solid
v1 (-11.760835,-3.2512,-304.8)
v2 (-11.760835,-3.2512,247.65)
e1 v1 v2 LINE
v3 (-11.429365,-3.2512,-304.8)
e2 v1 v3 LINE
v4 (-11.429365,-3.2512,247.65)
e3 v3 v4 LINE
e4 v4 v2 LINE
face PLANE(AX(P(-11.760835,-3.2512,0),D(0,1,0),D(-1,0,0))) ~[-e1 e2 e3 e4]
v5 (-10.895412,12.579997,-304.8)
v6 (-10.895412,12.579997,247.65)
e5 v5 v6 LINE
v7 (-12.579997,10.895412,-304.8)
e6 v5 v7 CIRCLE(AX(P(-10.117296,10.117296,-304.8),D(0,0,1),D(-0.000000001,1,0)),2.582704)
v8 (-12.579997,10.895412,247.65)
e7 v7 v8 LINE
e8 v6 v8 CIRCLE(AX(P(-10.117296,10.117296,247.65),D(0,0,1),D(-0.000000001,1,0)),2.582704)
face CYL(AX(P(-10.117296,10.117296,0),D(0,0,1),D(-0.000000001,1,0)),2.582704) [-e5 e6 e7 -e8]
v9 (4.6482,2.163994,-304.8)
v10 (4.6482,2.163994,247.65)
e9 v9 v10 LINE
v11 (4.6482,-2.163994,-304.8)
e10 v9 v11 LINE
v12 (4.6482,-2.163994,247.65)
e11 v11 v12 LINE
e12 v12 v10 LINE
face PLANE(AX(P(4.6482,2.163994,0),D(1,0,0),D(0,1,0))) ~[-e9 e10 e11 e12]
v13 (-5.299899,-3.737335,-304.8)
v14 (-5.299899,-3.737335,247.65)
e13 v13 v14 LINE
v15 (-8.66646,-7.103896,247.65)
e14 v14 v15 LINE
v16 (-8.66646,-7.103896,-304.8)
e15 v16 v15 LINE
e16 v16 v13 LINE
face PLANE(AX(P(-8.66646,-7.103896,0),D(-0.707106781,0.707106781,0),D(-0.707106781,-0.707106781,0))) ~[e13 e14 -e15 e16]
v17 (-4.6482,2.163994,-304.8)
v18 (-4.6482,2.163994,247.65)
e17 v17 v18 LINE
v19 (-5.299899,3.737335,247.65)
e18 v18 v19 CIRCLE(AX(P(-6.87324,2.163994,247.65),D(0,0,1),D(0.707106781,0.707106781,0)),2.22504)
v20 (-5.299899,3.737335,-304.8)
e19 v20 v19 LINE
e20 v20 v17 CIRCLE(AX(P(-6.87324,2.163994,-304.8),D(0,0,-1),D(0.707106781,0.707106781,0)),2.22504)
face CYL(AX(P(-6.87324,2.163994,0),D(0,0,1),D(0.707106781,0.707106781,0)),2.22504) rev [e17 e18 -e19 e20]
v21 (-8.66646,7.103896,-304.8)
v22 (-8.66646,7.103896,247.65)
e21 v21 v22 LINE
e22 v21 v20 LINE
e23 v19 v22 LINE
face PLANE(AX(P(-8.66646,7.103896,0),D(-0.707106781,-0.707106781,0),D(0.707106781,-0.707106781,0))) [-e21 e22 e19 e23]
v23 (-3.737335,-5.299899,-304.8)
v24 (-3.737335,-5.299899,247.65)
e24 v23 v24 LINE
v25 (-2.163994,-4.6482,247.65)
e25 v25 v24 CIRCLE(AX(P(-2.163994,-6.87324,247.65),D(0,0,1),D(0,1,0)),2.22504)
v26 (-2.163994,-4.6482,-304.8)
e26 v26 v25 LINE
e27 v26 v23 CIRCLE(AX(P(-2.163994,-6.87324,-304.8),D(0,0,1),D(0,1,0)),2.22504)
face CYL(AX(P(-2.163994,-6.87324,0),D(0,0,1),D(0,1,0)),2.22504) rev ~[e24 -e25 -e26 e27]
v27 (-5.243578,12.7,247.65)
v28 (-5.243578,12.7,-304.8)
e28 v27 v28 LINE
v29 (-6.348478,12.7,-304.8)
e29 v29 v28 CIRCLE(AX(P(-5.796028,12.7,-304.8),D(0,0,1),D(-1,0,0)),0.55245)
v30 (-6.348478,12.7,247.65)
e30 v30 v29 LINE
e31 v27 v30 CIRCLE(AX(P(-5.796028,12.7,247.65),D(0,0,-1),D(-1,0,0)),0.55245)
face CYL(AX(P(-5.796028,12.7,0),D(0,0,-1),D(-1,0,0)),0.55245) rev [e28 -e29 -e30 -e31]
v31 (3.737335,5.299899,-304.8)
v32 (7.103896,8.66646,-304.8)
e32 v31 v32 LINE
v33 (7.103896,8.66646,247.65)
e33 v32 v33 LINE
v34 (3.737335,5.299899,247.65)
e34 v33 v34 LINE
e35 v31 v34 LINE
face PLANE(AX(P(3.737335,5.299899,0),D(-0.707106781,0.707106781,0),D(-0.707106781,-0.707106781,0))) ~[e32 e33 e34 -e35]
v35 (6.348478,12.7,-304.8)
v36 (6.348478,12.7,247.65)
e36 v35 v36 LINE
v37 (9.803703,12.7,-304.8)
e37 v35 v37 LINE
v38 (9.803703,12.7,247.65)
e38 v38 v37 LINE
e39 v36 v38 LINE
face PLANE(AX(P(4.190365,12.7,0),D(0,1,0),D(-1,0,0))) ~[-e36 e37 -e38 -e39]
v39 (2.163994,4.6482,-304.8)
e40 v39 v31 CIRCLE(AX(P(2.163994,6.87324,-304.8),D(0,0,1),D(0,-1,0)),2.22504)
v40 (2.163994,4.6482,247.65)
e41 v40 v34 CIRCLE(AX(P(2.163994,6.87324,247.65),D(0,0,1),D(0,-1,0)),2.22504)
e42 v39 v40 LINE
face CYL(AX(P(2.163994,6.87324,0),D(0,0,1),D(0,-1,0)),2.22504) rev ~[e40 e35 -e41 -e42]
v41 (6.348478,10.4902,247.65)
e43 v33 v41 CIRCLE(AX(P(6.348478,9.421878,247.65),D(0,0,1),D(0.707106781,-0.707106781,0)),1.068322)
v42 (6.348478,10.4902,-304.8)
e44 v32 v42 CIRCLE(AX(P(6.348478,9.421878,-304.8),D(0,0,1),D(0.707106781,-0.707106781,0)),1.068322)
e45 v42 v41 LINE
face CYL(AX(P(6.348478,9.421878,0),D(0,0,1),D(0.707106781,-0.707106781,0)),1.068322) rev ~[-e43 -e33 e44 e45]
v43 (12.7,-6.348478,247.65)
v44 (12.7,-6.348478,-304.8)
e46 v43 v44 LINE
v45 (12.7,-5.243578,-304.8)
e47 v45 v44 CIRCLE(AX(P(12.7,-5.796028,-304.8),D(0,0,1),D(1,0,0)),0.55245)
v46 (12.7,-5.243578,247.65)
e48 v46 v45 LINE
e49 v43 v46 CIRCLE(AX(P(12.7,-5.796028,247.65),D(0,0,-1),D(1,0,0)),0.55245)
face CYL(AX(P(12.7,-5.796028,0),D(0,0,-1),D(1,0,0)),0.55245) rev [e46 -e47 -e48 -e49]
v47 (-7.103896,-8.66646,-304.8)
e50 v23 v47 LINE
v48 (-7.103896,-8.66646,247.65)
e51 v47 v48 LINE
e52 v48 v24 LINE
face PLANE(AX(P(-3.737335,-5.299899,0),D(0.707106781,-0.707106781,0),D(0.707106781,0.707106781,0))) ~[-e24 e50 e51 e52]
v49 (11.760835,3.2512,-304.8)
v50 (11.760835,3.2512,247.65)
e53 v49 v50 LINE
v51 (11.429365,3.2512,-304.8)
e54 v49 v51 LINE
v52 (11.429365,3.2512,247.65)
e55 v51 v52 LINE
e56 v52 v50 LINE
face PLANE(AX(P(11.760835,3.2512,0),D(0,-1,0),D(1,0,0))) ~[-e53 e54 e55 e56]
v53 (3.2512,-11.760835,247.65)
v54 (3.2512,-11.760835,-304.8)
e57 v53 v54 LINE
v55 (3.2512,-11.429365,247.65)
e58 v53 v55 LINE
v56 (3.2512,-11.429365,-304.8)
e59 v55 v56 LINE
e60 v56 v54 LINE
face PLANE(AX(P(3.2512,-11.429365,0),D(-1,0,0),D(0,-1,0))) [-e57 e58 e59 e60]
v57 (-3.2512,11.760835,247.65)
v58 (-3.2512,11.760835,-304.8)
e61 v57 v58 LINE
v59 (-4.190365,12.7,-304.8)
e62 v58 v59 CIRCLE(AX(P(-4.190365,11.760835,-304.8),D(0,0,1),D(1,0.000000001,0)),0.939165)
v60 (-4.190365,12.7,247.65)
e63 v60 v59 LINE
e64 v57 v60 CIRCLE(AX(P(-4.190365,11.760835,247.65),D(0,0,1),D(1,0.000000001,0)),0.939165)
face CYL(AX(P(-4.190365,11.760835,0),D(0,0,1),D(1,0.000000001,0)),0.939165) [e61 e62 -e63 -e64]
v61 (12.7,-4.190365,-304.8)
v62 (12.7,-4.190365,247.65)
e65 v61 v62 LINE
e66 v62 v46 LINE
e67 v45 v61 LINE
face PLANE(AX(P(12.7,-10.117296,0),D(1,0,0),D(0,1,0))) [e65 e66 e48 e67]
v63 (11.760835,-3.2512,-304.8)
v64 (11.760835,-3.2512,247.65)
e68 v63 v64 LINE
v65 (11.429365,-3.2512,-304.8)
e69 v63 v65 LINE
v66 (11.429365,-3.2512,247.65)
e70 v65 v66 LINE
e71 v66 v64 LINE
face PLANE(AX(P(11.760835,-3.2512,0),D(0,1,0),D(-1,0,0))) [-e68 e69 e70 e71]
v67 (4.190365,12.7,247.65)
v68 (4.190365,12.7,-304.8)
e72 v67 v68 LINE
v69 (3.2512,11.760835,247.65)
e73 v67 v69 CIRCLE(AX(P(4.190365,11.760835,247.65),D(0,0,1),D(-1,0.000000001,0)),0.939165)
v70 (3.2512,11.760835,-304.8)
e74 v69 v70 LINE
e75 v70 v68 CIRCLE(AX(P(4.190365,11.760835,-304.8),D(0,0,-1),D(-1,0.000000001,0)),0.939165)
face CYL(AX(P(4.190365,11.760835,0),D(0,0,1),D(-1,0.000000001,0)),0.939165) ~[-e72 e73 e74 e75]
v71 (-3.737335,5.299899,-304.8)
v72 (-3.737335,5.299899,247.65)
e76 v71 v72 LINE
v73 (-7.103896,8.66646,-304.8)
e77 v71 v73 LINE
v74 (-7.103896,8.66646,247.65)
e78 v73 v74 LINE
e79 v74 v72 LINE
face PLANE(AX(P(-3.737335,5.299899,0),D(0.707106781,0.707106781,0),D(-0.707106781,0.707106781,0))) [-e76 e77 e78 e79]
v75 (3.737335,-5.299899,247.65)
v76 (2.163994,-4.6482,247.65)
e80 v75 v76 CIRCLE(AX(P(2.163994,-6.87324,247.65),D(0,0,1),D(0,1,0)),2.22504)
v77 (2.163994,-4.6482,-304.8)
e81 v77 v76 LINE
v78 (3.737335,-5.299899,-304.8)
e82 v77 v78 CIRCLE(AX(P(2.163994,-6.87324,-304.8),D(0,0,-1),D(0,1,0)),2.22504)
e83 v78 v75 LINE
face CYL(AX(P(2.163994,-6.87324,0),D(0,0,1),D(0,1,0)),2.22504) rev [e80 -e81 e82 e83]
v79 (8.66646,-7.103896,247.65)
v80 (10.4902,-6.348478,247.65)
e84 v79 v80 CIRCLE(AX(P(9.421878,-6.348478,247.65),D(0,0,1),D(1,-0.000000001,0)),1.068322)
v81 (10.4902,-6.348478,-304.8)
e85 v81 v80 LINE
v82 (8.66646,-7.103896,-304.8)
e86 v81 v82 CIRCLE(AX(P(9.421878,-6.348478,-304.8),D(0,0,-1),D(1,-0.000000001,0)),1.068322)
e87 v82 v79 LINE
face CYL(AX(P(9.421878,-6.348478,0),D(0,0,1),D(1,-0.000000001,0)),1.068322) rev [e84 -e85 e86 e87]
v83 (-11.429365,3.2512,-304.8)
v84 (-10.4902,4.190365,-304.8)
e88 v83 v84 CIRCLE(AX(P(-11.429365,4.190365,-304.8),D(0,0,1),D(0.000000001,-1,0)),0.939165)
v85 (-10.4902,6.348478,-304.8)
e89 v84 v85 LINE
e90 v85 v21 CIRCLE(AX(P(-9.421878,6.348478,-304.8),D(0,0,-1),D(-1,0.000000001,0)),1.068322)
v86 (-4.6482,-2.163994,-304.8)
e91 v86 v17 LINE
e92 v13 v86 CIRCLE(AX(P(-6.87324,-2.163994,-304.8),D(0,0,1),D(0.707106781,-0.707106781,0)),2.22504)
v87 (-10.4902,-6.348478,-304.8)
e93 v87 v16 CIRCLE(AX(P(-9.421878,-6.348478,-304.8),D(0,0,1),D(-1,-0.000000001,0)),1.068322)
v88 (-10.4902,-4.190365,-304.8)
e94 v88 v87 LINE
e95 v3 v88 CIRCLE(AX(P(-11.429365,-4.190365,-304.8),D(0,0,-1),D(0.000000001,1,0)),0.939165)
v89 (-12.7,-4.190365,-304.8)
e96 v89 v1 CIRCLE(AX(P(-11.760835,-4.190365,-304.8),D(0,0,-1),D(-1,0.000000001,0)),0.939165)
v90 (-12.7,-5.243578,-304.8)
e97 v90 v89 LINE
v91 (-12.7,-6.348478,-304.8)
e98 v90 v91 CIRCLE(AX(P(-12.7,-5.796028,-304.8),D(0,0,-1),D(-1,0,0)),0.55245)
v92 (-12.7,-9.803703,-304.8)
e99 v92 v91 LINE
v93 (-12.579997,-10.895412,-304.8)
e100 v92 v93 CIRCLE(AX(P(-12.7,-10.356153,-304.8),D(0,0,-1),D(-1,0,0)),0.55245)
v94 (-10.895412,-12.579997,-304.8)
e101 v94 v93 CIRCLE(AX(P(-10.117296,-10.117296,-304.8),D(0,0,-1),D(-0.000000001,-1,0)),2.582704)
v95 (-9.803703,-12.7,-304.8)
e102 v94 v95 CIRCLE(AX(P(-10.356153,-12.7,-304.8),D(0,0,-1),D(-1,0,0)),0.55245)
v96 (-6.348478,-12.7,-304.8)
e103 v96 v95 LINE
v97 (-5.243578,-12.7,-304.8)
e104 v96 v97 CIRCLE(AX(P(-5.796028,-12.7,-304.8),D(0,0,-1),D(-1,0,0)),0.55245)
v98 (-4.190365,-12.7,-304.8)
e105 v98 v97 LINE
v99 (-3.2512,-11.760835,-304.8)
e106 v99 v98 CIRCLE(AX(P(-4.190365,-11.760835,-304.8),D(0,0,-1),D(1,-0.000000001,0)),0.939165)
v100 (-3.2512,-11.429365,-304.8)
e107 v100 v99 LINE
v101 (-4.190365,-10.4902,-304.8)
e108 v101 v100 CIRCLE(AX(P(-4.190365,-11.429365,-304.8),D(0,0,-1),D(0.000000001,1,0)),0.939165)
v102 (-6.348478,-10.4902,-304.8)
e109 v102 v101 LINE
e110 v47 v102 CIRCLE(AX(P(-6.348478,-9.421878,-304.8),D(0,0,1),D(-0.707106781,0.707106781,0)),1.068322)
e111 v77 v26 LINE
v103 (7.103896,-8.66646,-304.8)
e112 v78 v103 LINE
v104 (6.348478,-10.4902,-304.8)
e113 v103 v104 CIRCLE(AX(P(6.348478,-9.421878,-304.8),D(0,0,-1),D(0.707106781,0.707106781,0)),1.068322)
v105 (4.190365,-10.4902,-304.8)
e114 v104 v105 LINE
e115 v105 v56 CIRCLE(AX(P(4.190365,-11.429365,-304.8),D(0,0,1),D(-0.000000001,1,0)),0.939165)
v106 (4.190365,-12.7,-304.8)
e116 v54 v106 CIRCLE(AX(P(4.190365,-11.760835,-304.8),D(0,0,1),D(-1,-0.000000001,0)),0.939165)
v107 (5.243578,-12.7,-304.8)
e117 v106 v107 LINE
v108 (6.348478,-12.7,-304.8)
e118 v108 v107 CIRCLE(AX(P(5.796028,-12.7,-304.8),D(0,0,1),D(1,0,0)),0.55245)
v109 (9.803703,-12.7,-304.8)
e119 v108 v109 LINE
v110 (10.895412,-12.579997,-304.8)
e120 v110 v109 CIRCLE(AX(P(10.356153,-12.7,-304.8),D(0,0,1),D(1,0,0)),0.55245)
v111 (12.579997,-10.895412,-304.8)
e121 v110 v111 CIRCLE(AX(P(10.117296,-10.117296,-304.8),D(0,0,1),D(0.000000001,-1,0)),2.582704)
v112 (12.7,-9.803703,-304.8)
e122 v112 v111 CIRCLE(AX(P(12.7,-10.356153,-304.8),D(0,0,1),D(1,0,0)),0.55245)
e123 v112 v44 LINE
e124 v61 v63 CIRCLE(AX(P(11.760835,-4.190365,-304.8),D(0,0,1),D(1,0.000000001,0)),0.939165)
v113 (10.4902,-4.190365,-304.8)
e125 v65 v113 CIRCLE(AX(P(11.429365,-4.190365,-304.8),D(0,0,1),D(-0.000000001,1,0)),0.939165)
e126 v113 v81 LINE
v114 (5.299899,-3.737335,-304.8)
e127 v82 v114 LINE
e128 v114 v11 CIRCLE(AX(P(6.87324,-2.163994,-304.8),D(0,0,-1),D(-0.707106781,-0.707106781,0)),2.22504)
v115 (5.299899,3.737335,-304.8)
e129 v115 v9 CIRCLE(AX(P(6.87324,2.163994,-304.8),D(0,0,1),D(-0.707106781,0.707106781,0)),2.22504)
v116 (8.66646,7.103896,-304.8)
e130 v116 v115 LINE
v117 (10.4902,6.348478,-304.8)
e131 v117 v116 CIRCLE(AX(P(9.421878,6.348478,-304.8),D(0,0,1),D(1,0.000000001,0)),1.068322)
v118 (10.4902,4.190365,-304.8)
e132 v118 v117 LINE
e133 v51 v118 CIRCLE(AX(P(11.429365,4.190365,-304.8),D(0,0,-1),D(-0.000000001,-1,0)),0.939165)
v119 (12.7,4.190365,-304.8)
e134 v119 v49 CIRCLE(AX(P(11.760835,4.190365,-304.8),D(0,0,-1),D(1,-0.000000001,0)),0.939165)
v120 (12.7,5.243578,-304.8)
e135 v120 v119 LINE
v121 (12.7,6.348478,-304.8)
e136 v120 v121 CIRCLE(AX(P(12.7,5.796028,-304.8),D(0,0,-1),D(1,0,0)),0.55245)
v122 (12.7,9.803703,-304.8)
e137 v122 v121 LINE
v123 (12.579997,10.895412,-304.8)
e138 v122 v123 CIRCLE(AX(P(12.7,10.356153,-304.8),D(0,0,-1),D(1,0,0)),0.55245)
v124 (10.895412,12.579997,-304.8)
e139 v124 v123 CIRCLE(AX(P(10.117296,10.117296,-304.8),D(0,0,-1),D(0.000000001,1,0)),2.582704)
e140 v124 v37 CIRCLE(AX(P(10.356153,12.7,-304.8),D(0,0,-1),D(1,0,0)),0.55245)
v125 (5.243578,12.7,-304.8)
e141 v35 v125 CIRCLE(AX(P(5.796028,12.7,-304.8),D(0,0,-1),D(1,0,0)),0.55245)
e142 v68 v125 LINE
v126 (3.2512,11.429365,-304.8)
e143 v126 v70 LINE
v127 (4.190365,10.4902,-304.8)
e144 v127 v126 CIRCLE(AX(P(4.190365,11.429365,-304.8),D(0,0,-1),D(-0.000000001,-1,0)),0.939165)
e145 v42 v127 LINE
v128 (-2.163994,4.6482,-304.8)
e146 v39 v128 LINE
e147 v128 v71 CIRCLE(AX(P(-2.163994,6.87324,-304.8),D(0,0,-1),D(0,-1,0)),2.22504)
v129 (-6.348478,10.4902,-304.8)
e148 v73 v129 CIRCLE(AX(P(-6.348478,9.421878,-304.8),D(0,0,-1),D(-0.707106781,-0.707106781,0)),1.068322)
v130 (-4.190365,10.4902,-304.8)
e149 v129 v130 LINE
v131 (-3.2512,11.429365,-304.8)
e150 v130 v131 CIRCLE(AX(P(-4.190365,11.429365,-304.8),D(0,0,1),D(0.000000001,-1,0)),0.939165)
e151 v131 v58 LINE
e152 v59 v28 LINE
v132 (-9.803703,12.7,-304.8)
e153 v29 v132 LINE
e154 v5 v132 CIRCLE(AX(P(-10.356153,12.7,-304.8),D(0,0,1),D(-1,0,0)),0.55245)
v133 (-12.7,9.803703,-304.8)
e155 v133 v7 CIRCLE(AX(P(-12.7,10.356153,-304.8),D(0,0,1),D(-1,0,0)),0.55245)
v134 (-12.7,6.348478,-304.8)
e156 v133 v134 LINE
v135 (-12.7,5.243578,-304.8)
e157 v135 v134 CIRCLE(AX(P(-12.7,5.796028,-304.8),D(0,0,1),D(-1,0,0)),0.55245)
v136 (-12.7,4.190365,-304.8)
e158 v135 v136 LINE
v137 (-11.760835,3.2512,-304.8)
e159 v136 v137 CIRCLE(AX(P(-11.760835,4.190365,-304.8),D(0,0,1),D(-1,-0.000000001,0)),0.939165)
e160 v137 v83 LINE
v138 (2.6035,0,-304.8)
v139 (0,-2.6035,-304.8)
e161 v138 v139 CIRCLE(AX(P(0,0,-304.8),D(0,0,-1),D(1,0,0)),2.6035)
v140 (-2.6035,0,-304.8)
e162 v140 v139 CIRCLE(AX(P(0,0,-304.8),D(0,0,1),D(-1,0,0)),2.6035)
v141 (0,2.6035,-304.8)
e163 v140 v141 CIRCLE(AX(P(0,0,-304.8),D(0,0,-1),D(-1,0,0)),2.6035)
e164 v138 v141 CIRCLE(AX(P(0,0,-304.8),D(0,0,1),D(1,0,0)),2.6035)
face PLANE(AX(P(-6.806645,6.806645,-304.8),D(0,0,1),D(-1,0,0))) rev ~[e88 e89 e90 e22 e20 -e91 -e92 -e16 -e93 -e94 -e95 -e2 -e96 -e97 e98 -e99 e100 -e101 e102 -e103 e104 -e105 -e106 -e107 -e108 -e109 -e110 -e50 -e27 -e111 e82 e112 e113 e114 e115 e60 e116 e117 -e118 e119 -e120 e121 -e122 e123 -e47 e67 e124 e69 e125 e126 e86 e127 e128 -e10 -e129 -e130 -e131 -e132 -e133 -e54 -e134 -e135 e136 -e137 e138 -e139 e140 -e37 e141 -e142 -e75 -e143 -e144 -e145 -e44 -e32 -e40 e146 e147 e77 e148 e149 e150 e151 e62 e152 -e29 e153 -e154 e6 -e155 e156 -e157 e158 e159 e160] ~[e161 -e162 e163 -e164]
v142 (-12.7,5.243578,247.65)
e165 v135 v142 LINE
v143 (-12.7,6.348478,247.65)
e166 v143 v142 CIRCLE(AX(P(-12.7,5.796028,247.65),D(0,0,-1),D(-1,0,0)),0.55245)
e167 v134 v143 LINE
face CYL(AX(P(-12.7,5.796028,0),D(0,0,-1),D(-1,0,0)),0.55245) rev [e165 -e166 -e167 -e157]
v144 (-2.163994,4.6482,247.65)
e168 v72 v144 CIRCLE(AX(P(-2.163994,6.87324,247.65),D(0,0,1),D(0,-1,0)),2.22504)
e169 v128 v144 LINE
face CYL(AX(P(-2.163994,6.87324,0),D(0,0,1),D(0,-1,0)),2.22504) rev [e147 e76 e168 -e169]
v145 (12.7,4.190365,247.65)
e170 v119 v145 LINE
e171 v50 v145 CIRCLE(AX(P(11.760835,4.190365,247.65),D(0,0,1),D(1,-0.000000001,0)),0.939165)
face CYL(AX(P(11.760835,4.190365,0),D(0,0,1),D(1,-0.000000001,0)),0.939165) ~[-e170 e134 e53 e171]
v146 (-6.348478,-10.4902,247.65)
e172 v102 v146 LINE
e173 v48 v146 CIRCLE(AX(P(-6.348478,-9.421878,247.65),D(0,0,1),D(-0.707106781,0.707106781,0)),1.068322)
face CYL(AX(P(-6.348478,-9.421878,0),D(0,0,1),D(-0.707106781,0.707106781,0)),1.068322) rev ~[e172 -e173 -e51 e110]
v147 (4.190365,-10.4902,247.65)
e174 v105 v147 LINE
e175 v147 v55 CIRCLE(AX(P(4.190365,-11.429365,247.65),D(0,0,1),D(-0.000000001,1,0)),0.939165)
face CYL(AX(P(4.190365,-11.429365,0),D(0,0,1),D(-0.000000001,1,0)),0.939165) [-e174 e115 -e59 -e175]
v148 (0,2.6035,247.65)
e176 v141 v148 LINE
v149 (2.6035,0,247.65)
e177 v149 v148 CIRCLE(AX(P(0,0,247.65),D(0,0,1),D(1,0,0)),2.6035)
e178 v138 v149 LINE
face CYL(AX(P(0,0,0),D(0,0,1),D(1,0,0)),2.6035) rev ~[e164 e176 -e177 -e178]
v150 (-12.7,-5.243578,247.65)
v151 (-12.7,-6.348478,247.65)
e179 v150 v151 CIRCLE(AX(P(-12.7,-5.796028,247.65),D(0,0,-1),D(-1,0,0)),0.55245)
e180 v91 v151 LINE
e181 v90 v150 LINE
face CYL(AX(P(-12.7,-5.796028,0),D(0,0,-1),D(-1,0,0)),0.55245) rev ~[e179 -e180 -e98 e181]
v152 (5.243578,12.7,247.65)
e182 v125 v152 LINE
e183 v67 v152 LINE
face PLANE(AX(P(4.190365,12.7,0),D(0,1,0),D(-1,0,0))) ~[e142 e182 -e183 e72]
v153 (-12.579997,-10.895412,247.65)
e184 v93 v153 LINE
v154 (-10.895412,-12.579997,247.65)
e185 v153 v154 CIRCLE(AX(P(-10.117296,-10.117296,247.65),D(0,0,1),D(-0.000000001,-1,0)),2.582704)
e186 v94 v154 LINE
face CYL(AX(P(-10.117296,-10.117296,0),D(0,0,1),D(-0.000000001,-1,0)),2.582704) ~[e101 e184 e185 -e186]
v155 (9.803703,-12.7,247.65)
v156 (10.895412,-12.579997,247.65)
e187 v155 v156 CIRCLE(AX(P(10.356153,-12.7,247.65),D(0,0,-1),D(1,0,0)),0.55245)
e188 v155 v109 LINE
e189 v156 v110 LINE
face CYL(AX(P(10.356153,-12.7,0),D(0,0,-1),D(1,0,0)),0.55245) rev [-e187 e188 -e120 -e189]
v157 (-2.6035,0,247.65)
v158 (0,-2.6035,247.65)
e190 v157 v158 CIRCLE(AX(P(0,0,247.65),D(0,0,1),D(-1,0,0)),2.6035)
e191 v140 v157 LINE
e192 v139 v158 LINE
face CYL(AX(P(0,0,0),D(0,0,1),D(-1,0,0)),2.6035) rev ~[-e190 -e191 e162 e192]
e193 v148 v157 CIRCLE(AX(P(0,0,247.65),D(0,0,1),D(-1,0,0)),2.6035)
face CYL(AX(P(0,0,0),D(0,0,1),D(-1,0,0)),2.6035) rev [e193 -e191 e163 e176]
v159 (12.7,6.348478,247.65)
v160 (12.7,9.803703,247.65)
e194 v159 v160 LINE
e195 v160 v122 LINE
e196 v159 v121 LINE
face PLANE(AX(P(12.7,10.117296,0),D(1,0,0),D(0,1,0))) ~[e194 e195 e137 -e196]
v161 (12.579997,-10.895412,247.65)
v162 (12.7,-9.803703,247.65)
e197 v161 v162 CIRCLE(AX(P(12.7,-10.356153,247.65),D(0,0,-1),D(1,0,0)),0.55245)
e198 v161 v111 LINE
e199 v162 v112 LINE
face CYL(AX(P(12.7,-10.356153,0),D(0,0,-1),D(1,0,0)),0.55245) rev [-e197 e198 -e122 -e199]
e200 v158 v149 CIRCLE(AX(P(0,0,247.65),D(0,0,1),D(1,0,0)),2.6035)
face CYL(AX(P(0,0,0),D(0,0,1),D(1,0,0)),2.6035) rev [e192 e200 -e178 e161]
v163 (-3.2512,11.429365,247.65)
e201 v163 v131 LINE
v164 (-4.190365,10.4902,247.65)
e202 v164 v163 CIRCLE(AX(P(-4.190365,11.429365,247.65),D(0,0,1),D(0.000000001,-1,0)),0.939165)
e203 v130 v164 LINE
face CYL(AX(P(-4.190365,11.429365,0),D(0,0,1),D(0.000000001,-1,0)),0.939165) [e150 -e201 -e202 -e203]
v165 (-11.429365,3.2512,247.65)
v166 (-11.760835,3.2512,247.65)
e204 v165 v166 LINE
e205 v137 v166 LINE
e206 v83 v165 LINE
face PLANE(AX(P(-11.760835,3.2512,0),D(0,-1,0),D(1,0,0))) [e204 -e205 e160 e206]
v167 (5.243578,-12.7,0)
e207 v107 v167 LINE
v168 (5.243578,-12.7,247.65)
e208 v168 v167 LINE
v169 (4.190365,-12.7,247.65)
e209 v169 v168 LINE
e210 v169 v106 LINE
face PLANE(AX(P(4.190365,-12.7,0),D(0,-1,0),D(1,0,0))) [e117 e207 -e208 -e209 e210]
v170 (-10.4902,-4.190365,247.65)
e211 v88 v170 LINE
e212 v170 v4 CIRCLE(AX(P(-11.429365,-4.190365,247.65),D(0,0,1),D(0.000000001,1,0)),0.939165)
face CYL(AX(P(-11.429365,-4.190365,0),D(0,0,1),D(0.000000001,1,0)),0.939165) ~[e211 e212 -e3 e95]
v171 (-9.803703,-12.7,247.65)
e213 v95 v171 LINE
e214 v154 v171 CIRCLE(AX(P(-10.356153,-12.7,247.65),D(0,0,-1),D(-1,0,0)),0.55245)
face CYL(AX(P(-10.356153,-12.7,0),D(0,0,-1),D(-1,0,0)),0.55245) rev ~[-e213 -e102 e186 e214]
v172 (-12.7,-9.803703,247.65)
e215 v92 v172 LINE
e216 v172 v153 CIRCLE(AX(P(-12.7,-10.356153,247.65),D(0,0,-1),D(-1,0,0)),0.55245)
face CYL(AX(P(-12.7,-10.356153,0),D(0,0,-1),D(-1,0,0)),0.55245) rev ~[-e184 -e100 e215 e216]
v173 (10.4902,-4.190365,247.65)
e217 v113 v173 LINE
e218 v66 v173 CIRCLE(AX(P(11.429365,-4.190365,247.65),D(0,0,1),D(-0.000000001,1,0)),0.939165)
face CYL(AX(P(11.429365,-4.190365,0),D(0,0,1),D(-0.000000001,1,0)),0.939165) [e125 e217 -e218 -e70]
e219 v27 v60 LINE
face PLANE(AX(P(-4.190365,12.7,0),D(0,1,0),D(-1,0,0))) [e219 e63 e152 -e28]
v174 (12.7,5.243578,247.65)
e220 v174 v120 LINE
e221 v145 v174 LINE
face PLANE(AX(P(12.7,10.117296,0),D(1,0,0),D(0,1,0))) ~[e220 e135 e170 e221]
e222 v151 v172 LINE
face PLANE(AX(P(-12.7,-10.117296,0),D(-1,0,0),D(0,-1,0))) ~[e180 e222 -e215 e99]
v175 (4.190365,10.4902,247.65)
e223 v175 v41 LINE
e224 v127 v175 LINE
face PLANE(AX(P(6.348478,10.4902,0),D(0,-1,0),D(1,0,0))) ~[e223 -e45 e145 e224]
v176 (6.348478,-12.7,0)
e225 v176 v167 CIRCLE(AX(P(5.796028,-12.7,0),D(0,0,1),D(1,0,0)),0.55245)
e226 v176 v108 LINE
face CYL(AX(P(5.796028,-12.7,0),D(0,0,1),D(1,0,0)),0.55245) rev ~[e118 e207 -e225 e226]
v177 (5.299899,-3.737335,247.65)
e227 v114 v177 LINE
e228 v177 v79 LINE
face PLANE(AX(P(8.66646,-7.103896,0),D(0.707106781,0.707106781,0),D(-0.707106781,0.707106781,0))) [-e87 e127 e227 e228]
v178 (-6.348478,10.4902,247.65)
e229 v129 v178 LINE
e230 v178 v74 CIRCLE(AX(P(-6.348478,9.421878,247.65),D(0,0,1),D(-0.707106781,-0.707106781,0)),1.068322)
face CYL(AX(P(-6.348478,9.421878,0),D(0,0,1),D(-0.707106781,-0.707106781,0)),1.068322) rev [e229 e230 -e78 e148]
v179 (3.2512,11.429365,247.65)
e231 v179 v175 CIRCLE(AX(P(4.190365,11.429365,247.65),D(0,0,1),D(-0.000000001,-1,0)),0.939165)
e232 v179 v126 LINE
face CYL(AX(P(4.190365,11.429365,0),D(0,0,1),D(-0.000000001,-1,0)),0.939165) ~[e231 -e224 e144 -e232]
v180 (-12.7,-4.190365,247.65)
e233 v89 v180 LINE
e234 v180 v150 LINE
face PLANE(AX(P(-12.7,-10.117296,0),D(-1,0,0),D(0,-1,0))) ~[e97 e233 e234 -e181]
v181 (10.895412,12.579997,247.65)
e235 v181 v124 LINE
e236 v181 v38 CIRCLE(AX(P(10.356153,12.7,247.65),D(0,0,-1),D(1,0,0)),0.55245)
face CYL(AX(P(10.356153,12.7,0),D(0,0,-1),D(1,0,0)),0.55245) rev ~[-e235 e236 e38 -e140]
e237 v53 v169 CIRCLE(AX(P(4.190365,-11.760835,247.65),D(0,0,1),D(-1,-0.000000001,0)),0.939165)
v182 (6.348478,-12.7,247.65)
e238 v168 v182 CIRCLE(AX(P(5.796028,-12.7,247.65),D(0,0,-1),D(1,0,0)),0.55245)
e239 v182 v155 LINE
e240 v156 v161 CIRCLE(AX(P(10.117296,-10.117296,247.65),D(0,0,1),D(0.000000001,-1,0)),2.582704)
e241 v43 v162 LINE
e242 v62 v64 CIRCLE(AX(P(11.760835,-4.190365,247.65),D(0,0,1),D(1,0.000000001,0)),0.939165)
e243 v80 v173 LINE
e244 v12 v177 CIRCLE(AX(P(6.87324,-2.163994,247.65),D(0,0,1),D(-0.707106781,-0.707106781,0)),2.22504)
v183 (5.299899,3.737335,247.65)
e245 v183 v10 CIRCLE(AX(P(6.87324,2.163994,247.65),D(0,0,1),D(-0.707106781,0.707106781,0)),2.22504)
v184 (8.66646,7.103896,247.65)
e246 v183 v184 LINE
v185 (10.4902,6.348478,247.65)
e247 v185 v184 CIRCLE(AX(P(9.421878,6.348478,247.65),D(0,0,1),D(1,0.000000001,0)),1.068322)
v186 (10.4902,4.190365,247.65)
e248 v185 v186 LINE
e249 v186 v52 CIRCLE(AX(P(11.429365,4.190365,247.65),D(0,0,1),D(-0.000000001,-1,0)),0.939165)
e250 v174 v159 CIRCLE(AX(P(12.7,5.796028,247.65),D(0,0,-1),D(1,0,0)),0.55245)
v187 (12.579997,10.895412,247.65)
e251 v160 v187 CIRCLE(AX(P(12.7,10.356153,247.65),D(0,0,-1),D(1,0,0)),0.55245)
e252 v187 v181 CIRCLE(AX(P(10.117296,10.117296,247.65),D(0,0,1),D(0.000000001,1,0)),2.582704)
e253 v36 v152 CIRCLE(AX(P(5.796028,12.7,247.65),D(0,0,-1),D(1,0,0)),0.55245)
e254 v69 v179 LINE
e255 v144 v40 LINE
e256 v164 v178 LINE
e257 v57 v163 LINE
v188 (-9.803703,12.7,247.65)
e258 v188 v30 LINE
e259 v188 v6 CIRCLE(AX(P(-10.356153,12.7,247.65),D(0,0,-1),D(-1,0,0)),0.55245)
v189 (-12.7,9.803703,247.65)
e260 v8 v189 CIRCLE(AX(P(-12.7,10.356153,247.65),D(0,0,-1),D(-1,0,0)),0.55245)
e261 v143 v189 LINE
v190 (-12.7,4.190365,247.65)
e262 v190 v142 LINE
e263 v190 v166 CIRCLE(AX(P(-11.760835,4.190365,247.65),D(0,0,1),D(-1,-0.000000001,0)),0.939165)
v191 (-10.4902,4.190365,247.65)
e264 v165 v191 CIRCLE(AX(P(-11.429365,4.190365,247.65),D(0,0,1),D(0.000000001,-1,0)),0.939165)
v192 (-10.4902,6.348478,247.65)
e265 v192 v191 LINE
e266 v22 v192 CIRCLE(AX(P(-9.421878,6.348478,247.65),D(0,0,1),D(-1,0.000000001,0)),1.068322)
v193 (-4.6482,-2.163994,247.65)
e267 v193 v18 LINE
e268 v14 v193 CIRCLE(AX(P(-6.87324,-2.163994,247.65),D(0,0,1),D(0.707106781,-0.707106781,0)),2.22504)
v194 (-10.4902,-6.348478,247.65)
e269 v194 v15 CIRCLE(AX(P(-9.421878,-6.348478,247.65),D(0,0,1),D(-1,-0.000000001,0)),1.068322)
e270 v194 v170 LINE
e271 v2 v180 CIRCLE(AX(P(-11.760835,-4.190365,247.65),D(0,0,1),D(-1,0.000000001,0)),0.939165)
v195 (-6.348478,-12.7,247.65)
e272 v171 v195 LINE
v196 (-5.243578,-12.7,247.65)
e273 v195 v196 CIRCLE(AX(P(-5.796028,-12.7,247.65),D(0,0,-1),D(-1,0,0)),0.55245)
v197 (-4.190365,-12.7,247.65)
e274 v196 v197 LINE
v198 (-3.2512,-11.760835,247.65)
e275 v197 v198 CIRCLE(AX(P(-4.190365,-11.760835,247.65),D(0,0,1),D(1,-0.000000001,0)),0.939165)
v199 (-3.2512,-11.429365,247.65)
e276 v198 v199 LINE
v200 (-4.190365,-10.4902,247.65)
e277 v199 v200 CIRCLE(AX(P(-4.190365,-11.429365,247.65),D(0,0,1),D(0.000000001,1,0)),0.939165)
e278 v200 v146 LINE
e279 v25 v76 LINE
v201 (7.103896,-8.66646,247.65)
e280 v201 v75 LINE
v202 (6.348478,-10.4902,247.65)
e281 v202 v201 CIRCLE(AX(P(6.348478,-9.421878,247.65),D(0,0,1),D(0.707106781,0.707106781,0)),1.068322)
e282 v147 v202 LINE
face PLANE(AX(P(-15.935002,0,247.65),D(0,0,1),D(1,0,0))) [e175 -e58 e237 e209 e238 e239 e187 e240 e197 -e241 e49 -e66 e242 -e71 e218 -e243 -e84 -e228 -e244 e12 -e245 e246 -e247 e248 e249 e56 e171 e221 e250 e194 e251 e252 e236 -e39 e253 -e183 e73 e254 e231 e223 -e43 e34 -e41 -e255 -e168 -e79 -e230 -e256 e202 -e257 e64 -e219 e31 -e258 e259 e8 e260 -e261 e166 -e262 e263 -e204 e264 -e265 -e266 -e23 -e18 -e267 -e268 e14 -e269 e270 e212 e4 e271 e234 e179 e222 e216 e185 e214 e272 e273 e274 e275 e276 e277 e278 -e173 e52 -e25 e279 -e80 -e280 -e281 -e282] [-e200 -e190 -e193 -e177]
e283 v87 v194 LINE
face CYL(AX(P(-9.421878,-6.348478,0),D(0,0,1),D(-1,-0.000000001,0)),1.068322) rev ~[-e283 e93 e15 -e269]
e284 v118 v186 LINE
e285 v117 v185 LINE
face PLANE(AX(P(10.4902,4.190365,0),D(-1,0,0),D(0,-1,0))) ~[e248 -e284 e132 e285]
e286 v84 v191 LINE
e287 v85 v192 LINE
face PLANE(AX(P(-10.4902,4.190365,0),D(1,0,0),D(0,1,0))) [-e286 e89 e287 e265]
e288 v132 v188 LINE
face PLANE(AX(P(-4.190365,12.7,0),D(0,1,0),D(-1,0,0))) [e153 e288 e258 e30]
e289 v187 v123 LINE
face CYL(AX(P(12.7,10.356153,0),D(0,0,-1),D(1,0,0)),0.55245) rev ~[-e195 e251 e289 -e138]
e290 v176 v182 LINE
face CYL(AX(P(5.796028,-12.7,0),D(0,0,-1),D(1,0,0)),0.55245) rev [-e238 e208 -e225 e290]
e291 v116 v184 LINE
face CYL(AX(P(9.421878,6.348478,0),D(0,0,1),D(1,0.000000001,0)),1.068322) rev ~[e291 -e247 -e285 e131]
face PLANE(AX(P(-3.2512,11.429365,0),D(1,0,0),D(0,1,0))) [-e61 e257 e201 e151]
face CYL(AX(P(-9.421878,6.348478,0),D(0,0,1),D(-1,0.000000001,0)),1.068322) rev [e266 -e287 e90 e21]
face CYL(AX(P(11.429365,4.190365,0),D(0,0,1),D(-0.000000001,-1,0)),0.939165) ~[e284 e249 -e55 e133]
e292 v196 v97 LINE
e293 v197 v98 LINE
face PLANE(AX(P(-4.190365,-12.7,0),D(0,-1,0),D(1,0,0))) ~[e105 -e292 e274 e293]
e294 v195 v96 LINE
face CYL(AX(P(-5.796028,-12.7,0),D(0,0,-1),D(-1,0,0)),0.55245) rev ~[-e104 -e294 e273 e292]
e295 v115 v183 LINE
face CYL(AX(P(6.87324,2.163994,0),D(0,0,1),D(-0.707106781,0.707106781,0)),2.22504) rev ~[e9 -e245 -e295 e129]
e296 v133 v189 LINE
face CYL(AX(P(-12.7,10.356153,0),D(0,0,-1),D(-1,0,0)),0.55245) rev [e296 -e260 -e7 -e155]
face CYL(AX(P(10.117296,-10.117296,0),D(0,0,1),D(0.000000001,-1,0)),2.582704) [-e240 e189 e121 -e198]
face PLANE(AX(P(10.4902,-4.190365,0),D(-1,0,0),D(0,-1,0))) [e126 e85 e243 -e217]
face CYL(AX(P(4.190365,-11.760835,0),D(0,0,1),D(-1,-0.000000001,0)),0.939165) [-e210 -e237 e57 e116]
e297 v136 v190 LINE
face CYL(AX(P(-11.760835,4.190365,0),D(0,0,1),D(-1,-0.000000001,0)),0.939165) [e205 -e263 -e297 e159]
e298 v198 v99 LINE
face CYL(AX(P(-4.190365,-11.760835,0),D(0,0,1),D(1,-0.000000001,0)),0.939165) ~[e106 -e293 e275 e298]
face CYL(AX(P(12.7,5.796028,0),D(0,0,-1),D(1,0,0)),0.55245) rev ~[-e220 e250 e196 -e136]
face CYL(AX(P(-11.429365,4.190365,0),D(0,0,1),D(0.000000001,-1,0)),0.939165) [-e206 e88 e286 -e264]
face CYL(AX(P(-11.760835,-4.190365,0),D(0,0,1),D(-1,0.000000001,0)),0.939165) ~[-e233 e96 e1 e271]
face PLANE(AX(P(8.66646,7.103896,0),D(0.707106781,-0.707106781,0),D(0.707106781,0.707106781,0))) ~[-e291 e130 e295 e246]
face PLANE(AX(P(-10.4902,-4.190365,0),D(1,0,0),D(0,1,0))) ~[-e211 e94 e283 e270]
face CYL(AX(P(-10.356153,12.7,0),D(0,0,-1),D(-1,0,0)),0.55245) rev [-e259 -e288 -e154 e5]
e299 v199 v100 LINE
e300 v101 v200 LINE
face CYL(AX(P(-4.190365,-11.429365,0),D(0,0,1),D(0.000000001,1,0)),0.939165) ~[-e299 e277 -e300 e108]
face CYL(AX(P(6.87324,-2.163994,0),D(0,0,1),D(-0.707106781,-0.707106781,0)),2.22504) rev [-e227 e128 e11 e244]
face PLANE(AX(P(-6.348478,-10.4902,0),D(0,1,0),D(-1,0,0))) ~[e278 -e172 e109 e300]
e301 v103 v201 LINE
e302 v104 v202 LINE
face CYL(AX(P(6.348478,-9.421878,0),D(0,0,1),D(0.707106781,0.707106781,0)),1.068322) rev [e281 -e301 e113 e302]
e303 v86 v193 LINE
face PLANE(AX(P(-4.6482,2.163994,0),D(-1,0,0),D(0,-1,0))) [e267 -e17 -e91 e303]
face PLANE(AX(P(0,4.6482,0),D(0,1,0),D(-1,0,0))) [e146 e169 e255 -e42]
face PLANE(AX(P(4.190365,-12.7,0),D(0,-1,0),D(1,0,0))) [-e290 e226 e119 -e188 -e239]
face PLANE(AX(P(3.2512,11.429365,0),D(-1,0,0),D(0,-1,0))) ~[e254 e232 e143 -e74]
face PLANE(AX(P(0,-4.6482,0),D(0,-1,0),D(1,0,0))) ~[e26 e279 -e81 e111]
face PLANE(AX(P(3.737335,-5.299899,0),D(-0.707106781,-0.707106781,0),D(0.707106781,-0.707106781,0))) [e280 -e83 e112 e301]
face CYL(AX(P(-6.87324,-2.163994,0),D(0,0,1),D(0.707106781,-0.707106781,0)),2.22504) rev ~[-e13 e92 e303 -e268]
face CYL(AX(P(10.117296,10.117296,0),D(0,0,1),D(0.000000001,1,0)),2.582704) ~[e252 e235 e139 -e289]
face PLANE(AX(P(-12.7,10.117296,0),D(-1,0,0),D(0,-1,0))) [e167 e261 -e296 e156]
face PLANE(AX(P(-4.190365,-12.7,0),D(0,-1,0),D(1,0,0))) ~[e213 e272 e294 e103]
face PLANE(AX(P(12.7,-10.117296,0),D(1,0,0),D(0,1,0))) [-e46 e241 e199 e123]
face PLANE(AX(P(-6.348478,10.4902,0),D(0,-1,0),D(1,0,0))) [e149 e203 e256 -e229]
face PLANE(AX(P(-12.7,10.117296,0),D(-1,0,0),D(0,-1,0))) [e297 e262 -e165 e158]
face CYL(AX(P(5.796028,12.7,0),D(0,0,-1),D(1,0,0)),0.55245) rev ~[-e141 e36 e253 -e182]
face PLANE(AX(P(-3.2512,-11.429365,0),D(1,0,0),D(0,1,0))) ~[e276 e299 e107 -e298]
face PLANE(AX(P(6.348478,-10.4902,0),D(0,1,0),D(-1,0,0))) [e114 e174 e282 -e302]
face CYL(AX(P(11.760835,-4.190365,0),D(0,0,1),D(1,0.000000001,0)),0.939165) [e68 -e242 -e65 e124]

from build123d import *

# Parameters (mm, degrees)
BOSS_EXTRUDE1_DEPTH     = 304.8
SKETCH5_R               = 0.55245
CUT_EXTRUDE1_DEPTH      = 305.8
CUT_EXTRUDE1_DEPTH_BACK = 305.8
SKETCH6_W               = 31.75
SKETCH6_H               = 57.15
CUT_EXTRUDE2_DEPTH      = 12.7


with BuildPart() as part:
    # Sketch4 → Boss-Extrude1 (new body, symmetric)
    with BuildSketch(Plane.XY):
        with BuildLine():
            Line((4.190365, -12.7), (10.11729625, -12.7))
            ThreePointArc((10.11729625, -12.7), (11.943543585, -11.943543585), (12.7, -10.11729625))
            Line((12.7, -10.11729625), (12.7, -4.190365))
            ThreePointArc((12.7, -4.190365), (12.42492494, -3.52627506), (11.760835, -3.2512))
            Line((11.760835, -3.2512), (11.429365, -3.2512))
            ThreePointArc((11.429365, -3.2512), (10.76527506, -3.52627506), (10.4902, -4.190365))
            Line((10.4902, -4.190365), (10.4902, -6.348478019))
            ThreePointArc((10.4902, -6.348478019), (9.830707141, -7.335478831), (8.666460301, -7.103895736))
            Line((8.666460301, -7.103895736), (5.299899128, -3.737334563))
            ThreePointArc((5.299899128, -3.737334563), (4.817571085, -3.015479634), (4.6482, -2.16399369))
            Line((4.6482, -2.16399369), (4.6482, 0))
            Line((4.6482, 0), (2.6035, 0))
            ThreePointArc((2.6035, 0), (1.840952505, -1.840952505), (0, -2.6035))
            Line((0, -2.6035), (0, -4.6482))
            Line((0, -4.6482), (2.16399369, -4.6482))
            ThreePointArc((2.16399369, -4.6482), (3.015479634, -4.817571085), (3.737334563, -5.299899128))
            Line((3.737334563, -5.299899128), (7.103895736, -8.666460301))
            ThreePointArc((7.103895736, -8.666460301), (7.335478831, -9.830707141), (6.348478019, -10.4902))
            Line((6.348478019, -10.4902), (4.190365, -10.4902))
            ThreePointArc((4.190365, -10.4902), (3.52627506, -10.76527506), (3.2512, -11.429365))
            Line((3.2512, -11.429365), (3.2512, -11.760835))
            ThreePointArc((3.2512, -11.760835), (3.52627506, -12.42492494), (4.190365, -12.7))
        make_face()
    extrude(amount=BOSS_EXTRUDE1_DEPTH, both=True)

    # Sketch5 → Cut-Extrude1 (cut, two sides)
    with BuildSketch(Plane.XY) as cut_extrude1_sk:
        with Locations((10.356153152, -12.7)):
            Circle(SKETCH5_R)
        with Locations((5.796028019, -12.7)):
            Circle(SKETCH5_R)
        with Locations((12.7, -10.356153152)):
            Circle(SKETCH5_R)
        with Locations((12.7, -5.796028019)):
            Circle(SKETCH5_R)
    extrude(amount=CUT_EXTRUDE1_DEPTH, mode=Mode.SUBTRACT)
    extrude(cut_extrude1_sk.sketch, amount=-CUT_EXTRUDE1_DEPTH_BACK, mode=Mode.SUBTRACT)

    # Mirror1: part across plane


with BuildPart() as part_1:
    add(part.part)
    add(part.part.mirror(Plane(origin=(0, 0, 0), x_dir=(0, 0, 1), z_dir=(1, 0, 0))))

    # Mirror2: part across plane


with BuildPart() as part_2:
    add(part_1.part)
    add(part_1.part.mirror(Plane.ZX))

    # Sketch6 → Cut-Extrude2 (cut, symmetric)
    with BuildSketch(Plane(origin=(0, 0, 0), x_dir=(1, 0, 0), z_dir=(0, 1, 0))):
        with Locations((-0.060001566, -276.225)):
            Rectangle(SKETCH6_W, SKETCH6_H)
    extrude(amount=CUT_EXTRUDE2_DEPTH, both=True, mode=Mode.SUBTRACT)


solid = part_2.part
